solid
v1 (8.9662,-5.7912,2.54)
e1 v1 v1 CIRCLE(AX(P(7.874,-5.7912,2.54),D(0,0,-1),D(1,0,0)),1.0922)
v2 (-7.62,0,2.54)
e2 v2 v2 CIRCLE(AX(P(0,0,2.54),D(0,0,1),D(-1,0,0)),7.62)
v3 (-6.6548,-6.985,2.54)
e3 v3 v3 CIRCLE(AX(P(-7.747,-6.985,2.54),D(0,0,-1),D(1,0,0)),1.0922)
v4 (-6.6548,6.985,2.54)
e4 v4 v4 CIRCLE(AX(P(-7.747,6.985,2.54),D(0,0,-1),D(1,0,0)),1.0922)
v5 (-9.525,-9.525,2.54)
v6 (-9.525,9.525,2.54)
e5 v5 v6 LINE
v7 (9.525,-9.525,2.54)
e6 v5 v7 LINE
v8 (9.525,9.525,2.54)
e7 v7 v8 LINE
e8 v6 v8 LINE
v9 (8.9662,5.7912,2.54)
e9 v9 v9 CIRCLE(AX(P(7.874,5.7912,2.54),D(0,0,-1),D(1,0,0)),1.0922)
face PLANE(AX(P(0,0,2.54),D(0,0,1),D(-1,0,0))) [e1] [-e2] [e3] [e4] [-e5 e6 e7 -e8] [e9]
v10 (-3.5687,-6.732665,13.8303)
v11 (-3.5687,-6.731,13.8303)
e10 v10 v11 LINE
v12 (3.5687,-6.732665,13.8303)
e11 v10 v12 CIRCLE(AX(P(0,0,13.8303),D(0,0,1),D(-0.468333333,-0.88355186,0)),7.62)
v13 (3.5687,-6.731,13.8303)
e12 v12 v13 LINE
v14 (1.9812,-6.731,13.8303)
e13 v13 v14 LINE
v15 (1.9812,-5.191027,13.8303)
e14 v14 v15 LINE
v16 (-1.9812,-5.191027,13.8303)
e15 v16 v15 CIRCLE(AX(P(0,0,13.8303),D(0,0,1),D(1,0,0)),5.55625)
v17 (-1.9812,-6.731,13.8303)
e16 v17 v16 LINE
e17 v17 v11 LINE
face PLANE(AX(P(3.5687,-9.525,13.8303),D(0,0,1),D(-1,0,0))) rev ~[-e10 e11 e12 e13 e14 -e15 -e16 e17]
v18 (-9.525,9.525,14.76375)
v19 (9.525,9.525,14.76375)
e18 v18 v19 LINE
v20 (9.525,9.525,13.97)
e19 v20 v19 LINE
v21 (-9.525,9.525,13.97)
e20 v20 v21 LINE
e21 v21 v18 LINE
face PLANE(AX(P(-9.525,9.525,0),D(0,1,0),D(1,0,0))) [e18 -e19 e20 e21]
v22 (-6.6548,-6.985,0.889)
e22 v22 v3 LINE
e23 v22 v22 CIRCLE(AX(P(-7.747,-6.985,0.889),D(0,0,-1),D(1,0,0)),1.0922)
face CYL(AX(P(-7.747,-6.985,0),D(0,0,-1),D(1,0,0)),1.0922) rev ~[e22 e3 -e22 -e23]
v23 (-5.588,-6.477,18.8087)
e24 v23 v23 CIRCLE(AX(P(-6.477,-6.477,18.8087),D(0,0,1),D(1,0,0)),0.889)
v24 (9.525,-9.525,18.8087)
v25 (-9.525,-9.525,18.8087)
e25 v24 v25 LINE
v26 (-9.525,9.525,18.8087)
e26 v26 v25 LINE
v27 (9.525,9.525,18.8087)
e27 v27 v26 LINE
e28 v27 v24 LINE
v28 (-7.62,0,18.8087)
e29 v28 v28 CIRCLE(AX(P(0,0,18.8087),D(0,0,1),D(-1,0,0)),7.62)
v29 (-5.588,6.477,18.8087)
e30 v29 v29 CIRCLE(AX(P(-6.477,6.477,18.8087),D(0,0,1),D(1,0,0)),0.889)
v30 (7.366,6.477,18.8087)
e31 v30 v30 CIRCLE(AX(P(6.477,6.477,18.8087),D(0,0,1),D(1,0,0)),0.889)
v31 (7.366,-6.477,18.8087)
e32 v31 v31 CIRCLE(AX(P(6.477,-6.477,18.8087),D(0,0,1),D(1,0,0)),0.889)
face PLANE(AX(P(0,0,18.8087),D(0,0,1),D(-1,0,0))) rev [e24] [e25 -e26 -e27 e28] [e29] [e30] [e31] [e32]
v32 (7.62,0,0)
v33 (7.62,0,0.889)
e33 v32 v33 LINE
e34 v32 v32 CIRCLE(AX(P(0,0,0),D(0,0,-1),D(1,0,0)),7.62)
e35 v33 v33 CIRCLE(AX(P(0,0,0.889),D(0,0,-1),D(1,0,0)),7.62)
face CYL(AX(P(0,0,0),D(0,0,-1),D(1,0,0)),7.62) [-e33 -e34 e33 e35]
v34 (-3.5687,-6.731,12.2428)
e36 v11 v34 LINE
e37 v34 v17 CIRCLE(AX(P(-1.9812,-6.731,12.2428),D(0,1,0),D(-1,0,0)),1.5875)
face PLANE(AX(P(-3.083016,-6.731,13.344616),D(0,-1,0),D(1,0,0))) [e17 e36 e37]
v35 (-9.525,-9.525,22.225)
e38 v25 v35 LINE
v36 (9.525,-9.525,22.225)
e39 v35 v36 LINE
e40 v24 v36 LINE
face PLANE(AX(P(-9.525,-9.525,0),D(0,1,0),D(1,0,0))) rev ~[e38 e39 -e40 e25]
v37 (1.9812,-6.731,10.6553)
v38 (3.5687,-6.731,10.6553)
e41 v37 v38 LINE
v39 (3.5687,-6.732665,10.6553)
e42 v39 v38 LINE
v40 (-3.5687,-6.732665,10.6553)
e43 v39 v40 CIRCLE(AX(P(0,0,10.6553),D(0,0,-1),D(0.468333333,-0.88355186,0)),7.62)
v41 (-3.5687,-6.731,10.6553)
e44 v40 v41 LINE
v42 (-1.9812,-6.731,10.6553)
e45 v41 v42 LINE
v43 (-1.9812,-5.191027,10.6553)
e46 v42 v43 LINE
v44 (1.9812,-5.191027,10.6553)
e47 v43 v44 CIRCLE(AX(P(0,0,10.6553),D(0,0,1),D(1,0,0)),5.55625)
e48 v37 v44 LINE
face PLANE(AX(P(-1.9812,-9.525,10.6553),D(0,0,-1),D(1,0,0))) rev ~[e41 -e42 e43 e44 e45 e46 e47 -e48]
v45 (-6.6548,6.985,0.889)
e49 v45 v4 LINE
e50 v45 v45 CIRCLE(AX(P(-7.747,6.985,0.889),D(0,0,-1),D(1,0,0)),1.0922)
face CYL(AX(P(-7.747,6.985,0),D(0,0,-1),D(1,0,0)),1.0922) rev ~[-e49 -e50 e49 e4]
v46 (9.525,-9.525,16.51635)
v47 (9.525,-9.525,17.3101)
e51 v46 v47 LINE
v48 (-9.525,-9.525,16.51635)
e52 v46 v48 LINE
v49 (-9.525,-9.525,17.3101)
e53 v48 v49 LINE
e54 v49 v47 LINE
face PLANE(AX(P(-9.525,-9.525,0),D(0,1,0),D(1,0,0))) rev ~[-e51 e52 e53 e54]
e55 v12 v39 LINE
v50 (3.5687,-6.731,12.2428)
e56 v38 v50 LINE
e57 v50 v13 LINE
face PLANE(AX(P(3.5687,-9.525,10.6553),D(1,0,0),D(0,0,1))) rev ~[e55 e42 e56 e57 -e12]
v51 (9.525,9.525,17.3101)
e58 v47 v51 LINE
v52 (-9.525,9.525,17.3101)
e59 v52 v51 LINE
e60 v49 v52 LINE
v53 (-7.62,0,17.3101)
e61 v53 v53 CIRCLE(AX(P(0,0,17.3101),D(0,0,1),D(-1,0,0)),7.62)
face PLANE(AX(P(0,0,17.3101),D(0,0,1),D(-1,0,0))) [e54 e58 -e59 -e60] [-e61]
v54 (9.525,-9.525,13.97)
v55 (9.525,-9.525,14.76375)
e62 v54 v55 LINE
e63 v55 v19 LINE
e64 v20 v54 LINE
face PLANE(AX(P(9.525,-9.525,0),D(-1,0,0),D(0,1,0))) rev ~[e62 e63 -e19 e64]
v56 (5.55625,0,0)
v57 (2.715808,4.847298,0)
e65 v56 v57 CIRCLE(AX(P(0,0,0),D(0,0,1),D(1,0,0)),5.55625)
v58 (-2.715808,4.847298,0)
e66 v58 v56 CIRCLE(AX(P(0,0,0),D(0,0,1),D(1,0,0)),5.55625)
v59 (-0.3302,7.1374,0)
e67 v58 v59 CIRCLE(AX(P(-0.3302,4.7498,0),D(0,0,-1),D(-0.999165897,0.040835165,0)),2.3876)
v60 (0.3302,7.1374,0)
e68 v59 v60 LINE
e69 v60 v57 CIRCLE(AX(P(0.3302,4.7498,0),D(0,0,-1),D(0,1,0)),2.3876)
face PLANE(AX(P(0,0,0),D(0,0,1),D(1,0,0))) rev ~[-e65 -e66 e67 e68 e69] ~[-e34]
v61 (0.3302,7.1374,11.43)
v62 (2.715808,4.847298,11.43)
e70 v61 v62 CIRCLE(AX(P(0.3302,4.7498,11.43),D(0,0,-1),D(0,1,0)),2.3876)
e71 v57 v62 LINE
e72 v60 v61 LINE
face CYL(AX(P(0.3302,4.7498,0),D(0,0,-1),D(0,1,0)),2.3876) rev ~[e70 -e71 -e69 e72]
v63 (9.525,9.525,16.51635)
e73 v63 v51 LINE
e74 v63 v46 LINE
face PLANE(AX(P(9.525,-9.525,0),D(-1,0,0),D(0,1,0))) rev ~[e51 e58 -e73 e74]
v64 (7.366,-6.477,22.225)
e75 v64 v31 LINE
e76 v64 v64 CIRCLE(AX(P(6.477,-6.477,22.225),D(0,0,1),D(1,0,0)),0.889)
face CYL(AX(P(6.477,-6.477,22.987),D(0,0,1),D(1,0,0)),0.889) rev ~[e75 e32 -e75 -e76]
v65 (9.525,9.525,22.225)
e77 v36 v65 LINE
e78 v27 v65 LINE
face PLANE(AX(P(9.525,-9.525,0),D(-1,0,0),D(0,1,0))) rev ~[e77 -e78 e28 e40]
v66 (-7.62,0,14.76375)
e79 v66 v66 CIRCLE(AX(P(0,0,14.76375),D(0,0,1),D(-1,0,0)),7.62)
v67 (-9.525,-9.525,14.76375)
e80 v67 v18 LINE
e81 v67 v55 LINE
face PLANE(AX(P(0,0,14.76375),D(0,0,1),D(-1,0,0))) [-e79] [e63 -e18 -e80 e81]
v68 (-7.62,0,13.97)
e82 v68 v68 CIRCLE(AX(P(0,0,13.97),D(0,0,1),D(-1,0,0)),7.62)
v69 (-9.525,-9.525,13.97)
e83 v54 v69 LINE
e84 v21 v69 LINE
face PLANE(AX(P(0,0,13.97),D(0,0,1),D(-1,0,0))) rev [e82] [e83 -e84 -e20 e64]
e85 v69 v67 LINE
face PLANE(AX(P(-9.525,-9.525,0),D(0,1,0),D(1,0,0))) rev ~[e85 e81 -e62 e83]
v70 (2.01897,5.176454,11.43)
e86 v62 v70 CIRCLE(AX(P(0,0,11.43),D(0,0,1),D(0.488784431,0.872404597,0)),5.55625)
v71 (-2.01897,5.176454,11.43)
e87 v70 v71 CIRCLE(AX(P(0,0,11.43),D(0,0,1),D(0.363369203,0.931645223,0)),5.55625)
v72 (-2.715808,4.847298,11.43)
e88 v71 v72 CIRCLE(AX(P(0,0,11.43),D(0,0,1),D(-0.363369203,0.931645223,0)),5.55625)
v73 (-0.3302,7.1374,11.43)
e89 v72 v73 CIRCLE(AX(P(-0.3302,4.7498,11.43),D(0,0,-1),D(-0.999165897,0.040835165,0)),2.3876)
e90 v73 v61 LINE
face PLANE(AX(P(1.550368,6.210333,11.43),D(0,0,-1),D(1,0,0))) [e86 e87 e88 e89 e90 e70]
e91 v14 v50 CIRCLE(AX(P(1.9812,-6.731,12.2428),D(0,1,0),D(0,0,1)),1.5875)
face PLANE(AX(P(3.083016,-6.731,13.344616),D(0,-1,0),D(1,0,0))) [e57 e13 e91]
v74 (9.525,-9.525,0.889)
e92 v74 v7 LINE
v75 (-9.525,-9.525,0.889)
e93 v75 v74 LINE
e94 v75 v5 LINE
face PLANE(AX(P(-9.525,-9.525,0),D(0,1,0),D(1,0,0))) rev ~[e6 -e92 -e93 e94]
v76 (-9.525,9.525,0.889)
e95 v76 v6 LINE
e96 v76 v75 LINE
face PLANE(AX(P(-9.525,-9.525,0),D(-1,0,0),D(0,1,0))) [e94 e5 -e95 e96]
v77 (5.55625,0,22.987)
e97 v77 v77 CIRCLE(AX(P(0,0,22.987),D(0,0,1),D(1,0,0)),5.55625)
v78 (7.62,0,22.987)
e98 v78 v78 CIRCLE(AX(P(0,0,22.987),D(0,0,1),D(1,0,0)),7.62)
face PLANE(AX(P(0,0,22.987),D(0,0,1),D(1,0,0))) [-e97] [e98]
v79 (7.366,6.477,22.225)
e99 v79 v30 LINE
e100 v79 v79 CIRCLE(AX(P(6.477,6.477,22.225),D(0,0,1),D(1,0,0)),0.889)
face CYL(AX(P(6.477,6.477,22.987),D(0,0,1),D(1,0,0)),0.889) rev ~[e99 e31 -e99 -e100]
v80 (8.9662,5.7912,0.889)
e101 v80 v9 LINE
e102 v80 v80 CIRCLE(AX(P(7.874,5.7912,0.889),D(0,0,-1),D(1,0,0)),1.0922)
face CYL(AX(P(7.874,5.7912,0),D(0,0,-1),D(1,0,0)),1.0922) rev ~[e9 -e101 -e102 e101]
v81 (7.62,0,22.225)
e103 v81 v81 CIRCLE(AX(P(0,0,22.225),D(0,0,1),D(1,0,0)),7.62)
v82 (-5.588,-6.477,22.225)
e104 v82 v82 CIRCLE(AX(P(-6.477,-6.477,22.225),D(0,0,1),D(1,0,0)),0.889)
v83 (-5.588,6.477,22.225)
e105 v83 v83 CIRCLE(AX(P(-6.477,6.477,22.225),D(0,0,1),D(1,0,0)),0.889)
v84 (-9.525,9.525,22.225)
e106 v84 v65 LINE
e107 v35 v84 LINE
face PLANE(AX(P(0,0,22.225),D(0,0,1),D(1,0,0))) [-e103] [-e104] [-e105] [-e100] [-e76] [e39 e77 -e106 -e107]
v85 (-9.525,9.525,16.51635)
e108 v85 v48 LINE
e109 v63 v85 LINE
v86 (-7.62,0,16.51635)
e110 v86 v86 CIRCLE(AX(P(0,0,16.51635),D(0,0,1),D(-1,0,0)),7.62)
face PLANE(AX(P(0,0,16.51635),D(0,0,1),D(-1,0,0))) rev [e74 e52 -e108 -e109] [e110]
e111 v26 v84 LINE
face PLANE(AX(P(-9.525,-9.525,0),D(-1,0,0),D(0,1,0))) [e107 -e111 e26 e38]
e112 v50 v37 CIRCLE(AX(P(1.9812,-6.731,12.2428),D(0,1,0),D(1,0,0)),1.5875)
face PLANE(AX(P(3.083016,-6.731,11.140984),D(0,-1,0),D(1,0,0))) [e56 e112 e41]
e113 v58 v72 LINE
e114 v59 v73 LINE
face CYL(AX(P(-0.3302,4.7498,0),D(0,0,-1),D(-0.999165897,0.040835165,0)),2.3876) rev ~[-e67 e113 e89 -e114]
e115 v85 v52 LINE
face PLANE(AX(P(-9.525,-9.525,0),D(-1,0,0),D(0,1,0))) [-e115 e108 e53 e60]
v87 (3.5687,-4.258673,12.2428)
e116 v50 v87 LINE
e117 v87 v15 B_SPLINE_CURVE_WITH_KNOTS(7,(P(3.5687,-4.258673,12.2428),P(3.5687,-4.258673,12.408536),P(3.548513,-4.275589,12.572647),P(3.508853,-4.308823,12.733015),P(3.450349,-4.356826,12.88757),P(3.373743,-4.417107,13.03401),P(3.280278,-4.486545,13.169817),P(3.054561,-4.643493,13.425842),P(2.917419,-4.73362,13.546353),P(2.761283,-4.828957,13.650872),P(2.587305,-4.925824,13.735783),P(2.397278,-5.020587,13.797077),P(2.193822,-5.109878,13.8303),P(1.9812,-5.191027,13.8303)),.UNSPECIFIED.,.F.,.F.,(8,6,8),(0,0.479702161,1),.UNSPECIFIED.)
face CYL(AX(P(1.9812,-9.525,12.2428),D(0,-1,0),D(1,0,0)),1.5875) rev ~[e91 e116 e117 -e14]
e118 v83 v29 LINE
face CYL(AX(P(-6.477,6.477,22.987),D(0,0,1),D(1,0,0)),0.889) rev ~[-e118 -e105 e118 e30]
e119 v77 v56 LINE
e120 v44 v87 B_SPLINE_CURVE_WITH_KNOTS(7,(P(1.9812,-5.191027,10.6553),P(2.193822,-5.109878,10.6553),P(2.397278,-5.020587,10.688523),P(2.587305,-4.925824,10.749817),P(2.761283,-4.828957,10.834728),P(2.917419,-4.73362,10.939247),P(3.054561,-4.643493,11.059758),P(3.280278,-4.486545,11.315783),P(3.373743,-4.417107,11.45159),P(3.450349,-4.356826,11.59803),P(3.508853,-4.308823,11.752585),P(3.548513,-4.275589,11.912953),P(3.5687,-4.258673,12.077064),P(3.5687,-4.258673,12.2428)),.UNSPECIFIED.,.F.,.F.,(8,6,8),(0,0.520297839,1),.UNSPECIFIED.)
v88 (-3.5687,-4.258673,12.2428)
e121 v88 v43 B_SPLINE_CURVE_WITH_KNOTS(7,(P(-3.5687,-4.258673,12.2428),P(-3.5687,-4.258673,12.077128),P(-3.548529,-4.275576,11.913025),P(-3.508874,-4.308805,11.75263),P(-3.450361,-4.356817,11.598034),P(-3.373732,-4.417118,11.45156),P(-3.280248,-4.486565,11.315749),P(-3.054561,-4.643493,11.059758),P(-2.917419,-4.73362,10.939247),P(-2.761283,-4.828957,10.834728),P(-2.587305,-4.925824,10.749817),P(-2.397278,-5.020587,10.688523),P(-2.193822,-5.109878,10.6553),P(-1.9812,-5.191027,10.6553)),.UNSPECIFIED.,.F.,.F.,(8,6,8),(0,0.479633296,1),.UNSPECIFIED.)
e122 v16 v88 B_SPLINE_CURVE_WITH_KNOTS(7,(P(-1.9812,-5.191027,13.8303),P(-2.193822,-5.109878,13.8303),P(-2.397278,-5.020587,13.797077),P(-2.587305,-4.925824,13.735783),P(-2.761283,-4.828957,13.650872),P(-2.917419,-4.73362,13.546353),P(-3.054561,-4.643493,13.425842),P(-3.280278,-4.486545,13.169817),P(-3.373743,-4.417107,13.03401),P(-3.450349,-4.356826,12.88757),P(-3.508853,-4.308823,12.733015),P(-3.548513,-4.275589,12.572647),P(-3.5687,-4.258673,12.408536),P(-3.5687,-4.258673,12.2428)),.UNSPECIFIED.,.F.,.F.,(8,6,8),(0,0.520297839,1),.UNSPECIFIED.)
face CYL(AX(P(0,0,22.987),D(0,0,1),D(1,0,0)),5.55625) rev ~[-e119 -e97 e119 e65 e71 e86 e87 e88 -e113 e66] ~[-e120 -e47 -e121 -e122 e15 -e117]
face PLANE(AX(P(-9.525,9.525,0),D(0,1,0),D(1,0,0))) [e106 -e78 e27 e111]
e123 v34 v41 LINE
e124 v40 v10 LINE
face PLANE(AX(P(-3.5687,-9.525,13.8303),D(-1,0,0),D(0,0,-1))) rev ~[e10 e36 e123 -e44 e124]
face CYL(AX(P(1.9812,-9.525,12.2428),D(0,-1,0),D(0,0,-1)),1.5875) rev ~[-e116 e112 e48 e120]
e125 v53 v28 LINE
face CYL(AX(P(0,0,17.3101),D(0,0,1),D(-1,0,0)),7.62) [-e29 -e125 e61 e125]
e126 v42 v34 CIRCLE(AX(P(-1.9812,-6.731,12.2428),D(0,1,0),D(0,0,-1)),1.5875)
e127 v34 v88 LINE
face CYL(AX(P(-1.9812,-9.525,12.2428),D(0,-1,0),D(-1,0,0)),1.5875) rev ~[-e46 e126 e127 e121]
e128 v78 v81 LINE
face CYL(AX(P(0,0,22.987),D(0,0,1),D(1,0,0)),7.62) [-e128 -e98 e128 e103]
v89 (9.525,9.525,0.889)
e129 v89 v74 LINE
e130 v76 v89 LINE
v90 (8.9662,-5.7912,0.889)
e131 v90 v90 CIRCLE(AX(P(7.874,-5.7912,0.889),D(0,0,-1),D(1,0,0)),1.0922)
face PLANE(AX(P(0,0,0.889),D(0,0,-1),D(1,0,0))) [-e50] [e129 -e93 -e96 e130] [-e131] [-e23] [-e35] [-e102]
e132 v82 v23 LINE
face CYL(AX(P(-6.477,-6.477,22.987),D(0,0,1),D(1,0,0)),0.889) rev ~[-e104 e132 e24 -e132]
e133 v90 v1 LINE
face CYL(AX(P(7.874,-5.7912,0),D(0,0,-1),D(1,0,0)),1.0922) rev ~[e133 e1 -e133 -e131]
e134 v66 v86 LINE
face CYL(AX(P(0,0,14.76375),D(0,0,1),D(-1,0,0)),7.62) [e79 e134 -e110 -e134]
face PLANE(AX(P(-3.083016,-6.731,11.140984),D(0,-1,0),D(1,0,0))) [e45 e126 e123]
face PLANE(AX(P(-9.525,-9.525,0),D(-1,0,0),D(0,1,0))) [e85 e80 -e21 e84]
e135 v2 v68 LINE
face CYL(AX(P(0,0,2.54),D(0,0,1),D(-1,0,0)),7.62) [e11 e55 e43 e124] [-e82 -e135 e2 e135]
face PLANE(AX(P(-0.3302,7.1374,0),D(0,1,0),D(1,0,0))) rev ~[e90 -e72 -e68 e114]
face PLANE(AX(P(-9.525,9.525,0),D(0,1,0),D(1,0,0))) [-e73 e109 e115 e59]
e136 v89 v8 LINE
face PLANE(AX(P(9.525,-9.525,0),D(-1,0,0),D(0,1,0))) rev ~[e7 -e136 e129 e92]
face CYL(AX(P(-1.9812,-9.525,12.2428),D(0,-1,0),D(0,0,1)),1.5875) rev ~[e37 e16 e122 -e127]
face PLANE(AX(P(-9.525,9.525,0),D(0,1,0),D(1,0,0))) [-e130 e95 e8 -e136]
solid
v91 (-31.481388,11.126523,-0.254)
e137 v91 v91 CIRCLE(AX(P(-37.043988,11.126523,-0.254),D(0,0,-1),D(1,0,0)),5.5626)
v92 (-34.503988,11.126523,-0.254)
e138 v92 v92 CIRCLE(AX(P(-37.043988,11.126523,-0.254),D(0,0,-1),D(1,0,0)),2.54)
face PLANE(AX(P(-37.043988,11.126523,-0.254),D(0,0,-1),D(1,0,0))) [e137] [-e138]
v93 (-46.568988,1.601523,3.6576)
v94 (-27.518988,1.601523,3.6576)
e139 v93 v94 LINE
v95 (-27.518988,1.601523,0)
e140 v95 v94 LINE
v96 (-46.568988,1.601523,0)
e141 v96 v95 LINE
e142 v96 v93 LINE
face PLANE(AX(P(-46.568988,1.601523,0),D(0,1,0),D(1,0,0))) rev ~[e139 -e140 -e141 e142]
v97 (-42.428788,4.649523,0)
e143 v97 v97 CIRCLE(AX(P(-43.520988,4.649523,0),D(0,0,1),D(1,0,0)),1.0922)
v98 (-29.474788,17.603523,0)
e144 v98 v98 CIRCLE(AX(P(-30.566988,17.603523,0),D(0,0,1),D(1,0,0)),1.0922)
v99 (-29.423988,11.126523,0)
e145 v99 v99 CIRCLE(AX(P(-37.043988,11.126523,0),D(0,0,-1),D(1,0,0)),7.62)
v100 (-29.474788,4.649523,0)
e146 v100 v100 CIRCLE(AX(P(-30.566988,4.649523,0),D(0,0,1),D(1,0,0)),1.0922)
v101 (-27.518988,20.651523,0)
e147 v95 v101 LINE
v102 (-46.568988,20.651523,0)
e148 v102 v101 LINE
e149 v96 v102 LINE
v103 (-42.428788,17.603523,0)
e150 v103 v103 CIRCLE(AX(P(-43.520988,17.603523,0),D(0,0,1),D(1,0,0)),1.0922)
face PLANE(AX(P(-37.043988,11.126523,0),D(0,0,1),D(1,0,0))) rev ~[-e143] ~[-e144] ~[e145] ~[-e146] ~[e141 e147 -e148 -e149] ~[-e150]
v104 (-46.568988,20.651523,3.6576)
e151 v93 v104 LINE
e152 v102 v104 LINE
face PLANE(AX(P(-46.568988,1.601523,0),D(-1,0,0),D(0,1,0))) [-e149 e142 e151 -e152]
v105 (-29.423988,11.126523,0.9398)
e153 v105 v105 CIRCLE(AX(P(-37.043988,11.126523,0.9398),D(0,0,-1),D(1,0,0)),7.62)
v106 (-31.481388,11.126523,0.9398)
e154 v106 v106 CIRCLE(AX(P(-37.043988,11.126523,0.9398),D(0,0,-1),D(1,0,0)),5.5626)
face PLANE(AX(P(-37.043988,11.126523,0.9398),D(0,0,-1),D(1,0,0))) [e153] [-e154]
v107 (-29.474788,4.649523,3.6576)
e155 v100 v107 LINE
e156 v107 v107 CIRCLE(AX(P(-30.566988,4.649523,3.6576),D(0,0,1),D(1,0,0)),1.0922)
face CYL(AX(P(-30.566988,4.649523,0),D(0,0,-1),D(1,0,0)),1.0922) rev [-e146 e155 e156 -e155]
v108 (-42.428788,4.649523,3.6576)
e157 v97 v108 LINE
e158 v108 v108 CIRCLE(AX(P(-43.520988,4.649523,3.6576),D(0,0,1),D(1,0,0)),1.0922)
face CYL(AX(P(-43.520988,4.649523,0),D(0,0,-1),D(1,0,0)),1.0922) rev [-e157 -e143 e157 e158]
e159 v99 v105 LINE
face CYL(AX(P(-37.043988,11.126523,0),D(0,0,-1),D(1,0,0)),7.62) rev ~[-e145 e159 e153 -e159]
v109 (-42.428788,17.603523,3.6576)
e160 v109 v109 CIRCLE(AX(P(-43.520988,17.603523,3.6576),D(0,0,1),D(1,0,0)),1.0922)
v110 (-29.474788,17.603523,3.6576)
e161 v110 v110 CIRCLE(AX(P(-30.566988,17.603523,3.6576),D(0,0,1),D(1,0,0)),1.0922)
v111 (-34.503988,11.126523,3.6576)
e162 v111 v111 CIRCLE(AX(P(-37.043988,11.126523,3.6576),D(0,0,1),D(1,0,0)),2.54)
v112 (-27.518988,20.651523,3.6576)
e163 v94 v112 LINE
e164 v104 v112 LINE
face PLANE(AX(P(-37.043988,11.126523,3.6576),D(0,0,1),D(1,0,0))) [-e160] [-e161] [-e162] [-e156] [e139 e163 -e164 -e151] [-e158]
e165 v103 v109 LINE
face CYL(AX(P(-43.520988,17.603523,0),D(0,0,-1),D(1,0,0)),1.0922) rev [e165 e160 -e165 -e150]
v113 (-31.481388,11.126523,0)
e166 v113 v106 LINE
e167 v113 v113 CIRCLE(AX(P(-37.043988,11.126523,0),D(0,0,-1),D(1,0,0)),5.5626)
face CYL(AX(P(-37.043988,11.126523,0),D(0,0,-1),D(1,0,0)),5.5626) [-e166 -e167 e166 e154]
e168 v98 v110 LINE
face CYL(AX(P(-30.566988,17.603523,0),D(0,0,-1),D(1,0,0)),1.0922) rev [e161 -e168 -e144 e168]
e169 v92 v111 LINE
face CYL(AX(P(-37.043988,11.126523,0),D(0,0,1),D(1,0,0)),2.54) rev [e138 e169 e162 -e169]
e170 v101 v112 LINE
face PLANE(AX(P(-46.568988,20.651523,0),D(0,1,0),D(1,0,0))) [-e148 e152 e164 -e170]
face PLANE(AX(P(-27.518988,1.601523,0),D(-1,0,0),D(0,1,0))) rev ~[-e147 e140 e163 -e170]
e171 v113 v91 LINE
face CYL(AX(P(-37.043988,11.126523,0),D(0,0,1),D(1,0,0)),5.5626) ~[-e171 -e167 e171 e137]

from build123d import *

# Parameters (mm, degrees)
F0_W      = 19.05
F0_H      = 19.05
F1_DEPTH  = 22.987
F4_R      = 5.55625
F5_DEPTH  = 22.988
F4_W      = 19.05
F4_H      = 19.05
F4_R_2    = 0.889
F4_R_3    = 7.62
F6_DEPTH  = 0.762
F8_DEPTH  = 11.43
F7_W      = 19.05
F7_H      = 19.05
F7_R      = 1.0922
F7_R_2    = 7.62
F9_DEPTH  = 0.889
F10_DEPTH = 2.54
F12_DEPTH = 9.525
F13_DEPTH = 2.794
F14_DEPTH = 4.445
F15_W     = 19.05
F15_H     = 19.05
F15_R     = 1.0922
F15_R_2   = 2.54
F16_DEPTH = 3.6576
F17_R     = 5.5626
F17_R_2   = 2.54
F18_DEPTH = 0.254
F17_R_3   = 7.62
F19_DEPTH = 0.9398


with BuildPart() as f1:
    # F0 (on Top) → F1 (new body)
    with BuildSketch(Plane.XY):
        Rectangle(F0_W, F0_H)
    extrude(amount=F1_DEPTH)

    # F2 (on Front) → F3 (revolve, cut)
    with BuildSketch(Plane.XZ):
        Polygon((-14.53140378, 2.54), (-7.62, 2.54), (-7.62, 13.97), (-14.1886780038, 13.97), (-14.1886780038, 14.76375), (-7.62, 14.76375), (-7.62, 16.51635), (-14.231517911, 16.51635), (-14.231517911, 17.3101), (-7.62, 17.3101), (-7.62, 18.8087), (-14.53140378, 18.8087), align=None)
    revolve(axis=Axis((0, 0, 1.4164929744), (0, 0, 1)), mode=Mode.SUBTRACT)

    # F4 (on face) → F5 (cut, through all)
    with BuildSketch(Plane.XY.offset(22.987)):
        Circle(F4_R)
    extrude(amount=-F5_DEPTH, mode=Mode.SUBTRACT)

    # F4 (on face) → F6 (cut)
    with BuildSketch(Plane.XY.offset(22.987)):
        Rectangle(F4_W, F4_H)
        with Locations((-6.477, -6.477)):
            Circle(F4_R_2, mode=Mode.SUBTRACT)
        with Locations((6.477, -6.477)):
            Circle(F4_R_2, mode=Mode.SUBTRACT)
        with Locations((-6.477, 6.477)):
            Circle(F4_R_2, mode=Mode.SUBTRACT)
        Circle(F4_R_3, mode=Mode.SUBTRACT)
        with Locations((6.477, 6.477)):
            Circle(F4_R_2, mode=Mode.SUBTRACT)
    extrude(amount=-F6_DEPTH, mode=Mode.SUBTRACT)

    # F7 (on face) → F8 (cut)
    with BuildSketch(Plane(origin=(0, 0, 0), x_dir=(1, 0, 0), z_dir=(0, 0, -1))):
        with BuildLine():
            ThreePointArc((0.3302, -7.1374), (1.9836581098, -6.472214015), (2.7158084952, -4.8472980391))
            ThreePointArc((2.7158084952, -4.8472980391), (2.3731030405, -5.0239721358), (2.018970134, -5.1764537727))
            ThreePointArc((2.018970134, -5.1764537727), (1.323196504, -6.4722731523), (0, -7.1144567869))
            ThreePointArc((0, -7.1144567869), (0.1647019403, -7.1316572905), (0.3302, -7.1374))
        make_face()
        with BuildLine():
            ThreePointArc((0, -7.1144567869), (-1.323196504, -6.4722731523), (-2.018970134, -5.1764537727))
            ThreePointArc((-2.018970134, -5.1764537727), (-2.3731030405, -5.0239721358), (-2.7158084952, -4.8472980391))
            ThreePointArc((-2.7158084952, -4.8472980391), (-1.9836581098, -6.472214015), (-0.3302, -7.1374))
            ThreePointArc((-0.3302, -7.1374), (-0.1647019403, -7.1316572905), (0, -7.1144567869))
        make_face()
        with BuildLine():
            ThreePointArc((2.018970134, -5.1764537727), (0, -5.55625), (-2.018970134, -5.1764537727))
            ThreePointArc((-2.018970134, -5.1764537727), (-1.323196504, -6.4722731523), (0, -7.1144567869))
            ThreePointArc((0, -7.1144567869), (1.323196504, -6.4722731523), (2.018970134, -5.1764537727))
        make_face()
        with BuildLine():
            Line((-0.3302, -7.1374), (0.3302, -7.1374))
            ThreePointArc((0.3302, -7.1374), (0.1647019403, -7.1316572905), (0, -7.1144567869))
            ThreePointArc((0, -7.1144567869), (-0.1647019403, -7.1316572905), (-0.3302, -7.1374))
        make_face()
    extrude(amount=-F8_DEPTH, mode=Mode.SUBTRACT)

    # F7 (on face) → F9 (cut)
    with BuildSketch(Plane(origin=(0, 0, 0), x_dir=(1, 0, 0), z_dir=(0, 0, -1))):
        Rectangle(F7_W, F7_H)
        with Locations((-7.747, -6.985)):
            Circle(F7_R, mode=Mode.SUBTRACT)
        with Locations((7.874, -5.7912)):
            Circle(F7_R, mode=Mode.SUBTRACT)
        with Locations((-7.747, 6.985)):
            Circle(F7_R, mode=Mode.SUBTRACT)
        Circle(F7_R_2, mode=Mode.SUBTRACT)
        with Locations((7.874, 5.7912)):
            Circle(F7_R, mode=Mode.SUBTRACT)
    extrude(amount=-F9_DEPTH, mode=Mode.SUBTRACT)

    # F7 (on face) → F10 (cut)
    with BuildSketch(Plane(origin=(0, 0, 0), x_dir=(1, 0, 0), z_dir=(0, 0, -1))):
        with Locations((-7.747, 6.985)):
            Circle(F7_R)
        with Locations((7.874, 5.7912)):
            Circle(F7_R)
        with Locations((7.874, -5.7912)):
            Circle(F7_R)
        with Locations((-7.747, -6.985)):
            Circle(F7_R)
    extrude(amount=-F10_DEPTH, mode=Mode.SUBTRACT)

    # F11 (on face) → F12 (cut)
    with BuildSketch(Plane.XZ.offset(9.525)):
        with BuildLine():
            Line((-1.9812, 10.6553), (1.9812, 10.6553))
            ThreePointArc((1.9812, 10.6553), (3.1037320151, 11.1202679849), (3.5687, 12.2428))
            ThreePointArc((3.5687, 12.2428), (3.1037320151, 13.3653320151), (1.9812, 13.8303))
            Line((1.9812, 13.8303), (-1.9812, 13.8303))
            ThreePointArc((-1.9812, 13.8303), (-3.1037320151, 13.3653320151), (-3.5687, 12.2428))
            ThreePointArc((-3.5687, 12.2428), (-3.1037320151, 11.1202679849), (-1.9812, 10.6553))
        make_face()
    extrude(amount=-F12_DEPTH, mode=Mode.SUBTRACT)

    # F11 (on face) → F13 (cut)
    with BuildSketch(Plane.XZ.offset(9.525)):
        with BuildLine():
            ThreePointArc((3.5687, 12.2428), (3.1037320151, 11.1202679849), (1.9812, 10.6553))
            Line((1.9812, 10.6553), (3.5687, 10.6553))
            Line((3.5687, 10.6553), (3.5687, 12.2428))
        make_face()
        with BuildLine():
            ThreePointArc((1.9812, 13.8303), (3.1037320151, 13.3653320151), (3.5687, 12.2428))
            Line((3.5687, 12.2428), (3.5687, 13.8303))
            Line((3.5687, 13.8303), (1.9812, 13.8303))
        make_face()
        with BuildLine():
            Line((-3.5687, 13.8303), (-3.5687, 12.2428))
            ThreePointArc((-3.5687, 12.2428), (-3.1037320151, 13.3653320151), (-1.9812, 13.8303))
            Line((-1.9812, 13.8303), (-3.5687, 13.8303))
        make_face()
        with BuildLine():
            Line((-3.5687, 10.6553), (-1.9812, 10.6553))
            ThreePointArc((-1.9812, 10.6553), (-3.1037320151, 11.1202679849), (-3.5687, 12.2428))
            Line((-3.5687, 12.2428), (-3.5687, 10.6553))
        make_face()
    extrude(amount=-F13_DEPTH, mode=Mode.SUBTRACT)

    # F4 (on face) → F14 (cut)
    with BuildSketch(Plane.XY.offset(22.987)):
        with Locations((6.477, 6.477)):
            Circle(F4_R_2)
        with Locations((6.477, -6.477)):
            Circle(F4_R_2)
        with Locations((-6.477, -6.477)):
            Circle(F4_R_2)
        with Locations((-6.477, 6.477)):
            Circle(F4_R_2)
    extrude(amount=-F14_DEPTH, mode=Mode.SUBTRACT)


with BuildPart() as f16:
    # F15 (on Top) → F16 (new body)
    with BuildSketch(Plane.XY):
        with Locations((-37.0439876556, 11.1265230238)):
            Rectangle(F15_W, F15_H)
        with Locations((-43.5209876556, 4.6495230238)):
            Circle(F15_R, mode=Mode.SUBTRACT)
        with Locations((-30.5669876556, 4.6495230238)):
            Circle(F15_R, mode=Mode.SUBTRACT)
        with Locations((-37.0439876556, 11.1265230238)):
            Circle(F15_R_2, mode=Mode.SUBTRACT)
        with Locations((-43.5209876556, 17.6035230238)):
            Circle(F15_R, mode=Mode.SUBTRACT)
        with Locations((-30.5669876556, 17.6035230238)):
            Circle(F15_R, mode=Mode.SUBTRACT)
    extrude(amount=F16_DEPTH)

    # F17 (on face) → F18 (join)
    with BuildSketch(Plane(origin=(0, 0, 0), x_dir=(1, 0, 0), z_dir=(0, 0, -1))):
        with Locations((-37.0439876556, -11.1265230238)):
            Circle(F17_R)
        with Locations((-37.0439876556, -11.1265230238)):
            Circle(F17_R_2, mode=Mode.SUBTRACT)
    extrude(amount=F18_DEPTH)

    # F17 (on face) → F19 (cut)
    with BuildSketch(Plane(origin=(0, 0, 0), x_dir=(1, 0, 0), z_dir=(0, 0, -1))):
        with Locations((-37.0439876556, -11.1265230238)):
            Circle(F17_R_3)
        with Locations((-37.0439876556, -11.1265230238)):
            Circle(F17_R, mode=Mode.SUBTRACT)
    extrude(amount=-F19_DEPTH, mode=Mode.SUBTRACT)


solid = Compound([f1.part, f16.part])
